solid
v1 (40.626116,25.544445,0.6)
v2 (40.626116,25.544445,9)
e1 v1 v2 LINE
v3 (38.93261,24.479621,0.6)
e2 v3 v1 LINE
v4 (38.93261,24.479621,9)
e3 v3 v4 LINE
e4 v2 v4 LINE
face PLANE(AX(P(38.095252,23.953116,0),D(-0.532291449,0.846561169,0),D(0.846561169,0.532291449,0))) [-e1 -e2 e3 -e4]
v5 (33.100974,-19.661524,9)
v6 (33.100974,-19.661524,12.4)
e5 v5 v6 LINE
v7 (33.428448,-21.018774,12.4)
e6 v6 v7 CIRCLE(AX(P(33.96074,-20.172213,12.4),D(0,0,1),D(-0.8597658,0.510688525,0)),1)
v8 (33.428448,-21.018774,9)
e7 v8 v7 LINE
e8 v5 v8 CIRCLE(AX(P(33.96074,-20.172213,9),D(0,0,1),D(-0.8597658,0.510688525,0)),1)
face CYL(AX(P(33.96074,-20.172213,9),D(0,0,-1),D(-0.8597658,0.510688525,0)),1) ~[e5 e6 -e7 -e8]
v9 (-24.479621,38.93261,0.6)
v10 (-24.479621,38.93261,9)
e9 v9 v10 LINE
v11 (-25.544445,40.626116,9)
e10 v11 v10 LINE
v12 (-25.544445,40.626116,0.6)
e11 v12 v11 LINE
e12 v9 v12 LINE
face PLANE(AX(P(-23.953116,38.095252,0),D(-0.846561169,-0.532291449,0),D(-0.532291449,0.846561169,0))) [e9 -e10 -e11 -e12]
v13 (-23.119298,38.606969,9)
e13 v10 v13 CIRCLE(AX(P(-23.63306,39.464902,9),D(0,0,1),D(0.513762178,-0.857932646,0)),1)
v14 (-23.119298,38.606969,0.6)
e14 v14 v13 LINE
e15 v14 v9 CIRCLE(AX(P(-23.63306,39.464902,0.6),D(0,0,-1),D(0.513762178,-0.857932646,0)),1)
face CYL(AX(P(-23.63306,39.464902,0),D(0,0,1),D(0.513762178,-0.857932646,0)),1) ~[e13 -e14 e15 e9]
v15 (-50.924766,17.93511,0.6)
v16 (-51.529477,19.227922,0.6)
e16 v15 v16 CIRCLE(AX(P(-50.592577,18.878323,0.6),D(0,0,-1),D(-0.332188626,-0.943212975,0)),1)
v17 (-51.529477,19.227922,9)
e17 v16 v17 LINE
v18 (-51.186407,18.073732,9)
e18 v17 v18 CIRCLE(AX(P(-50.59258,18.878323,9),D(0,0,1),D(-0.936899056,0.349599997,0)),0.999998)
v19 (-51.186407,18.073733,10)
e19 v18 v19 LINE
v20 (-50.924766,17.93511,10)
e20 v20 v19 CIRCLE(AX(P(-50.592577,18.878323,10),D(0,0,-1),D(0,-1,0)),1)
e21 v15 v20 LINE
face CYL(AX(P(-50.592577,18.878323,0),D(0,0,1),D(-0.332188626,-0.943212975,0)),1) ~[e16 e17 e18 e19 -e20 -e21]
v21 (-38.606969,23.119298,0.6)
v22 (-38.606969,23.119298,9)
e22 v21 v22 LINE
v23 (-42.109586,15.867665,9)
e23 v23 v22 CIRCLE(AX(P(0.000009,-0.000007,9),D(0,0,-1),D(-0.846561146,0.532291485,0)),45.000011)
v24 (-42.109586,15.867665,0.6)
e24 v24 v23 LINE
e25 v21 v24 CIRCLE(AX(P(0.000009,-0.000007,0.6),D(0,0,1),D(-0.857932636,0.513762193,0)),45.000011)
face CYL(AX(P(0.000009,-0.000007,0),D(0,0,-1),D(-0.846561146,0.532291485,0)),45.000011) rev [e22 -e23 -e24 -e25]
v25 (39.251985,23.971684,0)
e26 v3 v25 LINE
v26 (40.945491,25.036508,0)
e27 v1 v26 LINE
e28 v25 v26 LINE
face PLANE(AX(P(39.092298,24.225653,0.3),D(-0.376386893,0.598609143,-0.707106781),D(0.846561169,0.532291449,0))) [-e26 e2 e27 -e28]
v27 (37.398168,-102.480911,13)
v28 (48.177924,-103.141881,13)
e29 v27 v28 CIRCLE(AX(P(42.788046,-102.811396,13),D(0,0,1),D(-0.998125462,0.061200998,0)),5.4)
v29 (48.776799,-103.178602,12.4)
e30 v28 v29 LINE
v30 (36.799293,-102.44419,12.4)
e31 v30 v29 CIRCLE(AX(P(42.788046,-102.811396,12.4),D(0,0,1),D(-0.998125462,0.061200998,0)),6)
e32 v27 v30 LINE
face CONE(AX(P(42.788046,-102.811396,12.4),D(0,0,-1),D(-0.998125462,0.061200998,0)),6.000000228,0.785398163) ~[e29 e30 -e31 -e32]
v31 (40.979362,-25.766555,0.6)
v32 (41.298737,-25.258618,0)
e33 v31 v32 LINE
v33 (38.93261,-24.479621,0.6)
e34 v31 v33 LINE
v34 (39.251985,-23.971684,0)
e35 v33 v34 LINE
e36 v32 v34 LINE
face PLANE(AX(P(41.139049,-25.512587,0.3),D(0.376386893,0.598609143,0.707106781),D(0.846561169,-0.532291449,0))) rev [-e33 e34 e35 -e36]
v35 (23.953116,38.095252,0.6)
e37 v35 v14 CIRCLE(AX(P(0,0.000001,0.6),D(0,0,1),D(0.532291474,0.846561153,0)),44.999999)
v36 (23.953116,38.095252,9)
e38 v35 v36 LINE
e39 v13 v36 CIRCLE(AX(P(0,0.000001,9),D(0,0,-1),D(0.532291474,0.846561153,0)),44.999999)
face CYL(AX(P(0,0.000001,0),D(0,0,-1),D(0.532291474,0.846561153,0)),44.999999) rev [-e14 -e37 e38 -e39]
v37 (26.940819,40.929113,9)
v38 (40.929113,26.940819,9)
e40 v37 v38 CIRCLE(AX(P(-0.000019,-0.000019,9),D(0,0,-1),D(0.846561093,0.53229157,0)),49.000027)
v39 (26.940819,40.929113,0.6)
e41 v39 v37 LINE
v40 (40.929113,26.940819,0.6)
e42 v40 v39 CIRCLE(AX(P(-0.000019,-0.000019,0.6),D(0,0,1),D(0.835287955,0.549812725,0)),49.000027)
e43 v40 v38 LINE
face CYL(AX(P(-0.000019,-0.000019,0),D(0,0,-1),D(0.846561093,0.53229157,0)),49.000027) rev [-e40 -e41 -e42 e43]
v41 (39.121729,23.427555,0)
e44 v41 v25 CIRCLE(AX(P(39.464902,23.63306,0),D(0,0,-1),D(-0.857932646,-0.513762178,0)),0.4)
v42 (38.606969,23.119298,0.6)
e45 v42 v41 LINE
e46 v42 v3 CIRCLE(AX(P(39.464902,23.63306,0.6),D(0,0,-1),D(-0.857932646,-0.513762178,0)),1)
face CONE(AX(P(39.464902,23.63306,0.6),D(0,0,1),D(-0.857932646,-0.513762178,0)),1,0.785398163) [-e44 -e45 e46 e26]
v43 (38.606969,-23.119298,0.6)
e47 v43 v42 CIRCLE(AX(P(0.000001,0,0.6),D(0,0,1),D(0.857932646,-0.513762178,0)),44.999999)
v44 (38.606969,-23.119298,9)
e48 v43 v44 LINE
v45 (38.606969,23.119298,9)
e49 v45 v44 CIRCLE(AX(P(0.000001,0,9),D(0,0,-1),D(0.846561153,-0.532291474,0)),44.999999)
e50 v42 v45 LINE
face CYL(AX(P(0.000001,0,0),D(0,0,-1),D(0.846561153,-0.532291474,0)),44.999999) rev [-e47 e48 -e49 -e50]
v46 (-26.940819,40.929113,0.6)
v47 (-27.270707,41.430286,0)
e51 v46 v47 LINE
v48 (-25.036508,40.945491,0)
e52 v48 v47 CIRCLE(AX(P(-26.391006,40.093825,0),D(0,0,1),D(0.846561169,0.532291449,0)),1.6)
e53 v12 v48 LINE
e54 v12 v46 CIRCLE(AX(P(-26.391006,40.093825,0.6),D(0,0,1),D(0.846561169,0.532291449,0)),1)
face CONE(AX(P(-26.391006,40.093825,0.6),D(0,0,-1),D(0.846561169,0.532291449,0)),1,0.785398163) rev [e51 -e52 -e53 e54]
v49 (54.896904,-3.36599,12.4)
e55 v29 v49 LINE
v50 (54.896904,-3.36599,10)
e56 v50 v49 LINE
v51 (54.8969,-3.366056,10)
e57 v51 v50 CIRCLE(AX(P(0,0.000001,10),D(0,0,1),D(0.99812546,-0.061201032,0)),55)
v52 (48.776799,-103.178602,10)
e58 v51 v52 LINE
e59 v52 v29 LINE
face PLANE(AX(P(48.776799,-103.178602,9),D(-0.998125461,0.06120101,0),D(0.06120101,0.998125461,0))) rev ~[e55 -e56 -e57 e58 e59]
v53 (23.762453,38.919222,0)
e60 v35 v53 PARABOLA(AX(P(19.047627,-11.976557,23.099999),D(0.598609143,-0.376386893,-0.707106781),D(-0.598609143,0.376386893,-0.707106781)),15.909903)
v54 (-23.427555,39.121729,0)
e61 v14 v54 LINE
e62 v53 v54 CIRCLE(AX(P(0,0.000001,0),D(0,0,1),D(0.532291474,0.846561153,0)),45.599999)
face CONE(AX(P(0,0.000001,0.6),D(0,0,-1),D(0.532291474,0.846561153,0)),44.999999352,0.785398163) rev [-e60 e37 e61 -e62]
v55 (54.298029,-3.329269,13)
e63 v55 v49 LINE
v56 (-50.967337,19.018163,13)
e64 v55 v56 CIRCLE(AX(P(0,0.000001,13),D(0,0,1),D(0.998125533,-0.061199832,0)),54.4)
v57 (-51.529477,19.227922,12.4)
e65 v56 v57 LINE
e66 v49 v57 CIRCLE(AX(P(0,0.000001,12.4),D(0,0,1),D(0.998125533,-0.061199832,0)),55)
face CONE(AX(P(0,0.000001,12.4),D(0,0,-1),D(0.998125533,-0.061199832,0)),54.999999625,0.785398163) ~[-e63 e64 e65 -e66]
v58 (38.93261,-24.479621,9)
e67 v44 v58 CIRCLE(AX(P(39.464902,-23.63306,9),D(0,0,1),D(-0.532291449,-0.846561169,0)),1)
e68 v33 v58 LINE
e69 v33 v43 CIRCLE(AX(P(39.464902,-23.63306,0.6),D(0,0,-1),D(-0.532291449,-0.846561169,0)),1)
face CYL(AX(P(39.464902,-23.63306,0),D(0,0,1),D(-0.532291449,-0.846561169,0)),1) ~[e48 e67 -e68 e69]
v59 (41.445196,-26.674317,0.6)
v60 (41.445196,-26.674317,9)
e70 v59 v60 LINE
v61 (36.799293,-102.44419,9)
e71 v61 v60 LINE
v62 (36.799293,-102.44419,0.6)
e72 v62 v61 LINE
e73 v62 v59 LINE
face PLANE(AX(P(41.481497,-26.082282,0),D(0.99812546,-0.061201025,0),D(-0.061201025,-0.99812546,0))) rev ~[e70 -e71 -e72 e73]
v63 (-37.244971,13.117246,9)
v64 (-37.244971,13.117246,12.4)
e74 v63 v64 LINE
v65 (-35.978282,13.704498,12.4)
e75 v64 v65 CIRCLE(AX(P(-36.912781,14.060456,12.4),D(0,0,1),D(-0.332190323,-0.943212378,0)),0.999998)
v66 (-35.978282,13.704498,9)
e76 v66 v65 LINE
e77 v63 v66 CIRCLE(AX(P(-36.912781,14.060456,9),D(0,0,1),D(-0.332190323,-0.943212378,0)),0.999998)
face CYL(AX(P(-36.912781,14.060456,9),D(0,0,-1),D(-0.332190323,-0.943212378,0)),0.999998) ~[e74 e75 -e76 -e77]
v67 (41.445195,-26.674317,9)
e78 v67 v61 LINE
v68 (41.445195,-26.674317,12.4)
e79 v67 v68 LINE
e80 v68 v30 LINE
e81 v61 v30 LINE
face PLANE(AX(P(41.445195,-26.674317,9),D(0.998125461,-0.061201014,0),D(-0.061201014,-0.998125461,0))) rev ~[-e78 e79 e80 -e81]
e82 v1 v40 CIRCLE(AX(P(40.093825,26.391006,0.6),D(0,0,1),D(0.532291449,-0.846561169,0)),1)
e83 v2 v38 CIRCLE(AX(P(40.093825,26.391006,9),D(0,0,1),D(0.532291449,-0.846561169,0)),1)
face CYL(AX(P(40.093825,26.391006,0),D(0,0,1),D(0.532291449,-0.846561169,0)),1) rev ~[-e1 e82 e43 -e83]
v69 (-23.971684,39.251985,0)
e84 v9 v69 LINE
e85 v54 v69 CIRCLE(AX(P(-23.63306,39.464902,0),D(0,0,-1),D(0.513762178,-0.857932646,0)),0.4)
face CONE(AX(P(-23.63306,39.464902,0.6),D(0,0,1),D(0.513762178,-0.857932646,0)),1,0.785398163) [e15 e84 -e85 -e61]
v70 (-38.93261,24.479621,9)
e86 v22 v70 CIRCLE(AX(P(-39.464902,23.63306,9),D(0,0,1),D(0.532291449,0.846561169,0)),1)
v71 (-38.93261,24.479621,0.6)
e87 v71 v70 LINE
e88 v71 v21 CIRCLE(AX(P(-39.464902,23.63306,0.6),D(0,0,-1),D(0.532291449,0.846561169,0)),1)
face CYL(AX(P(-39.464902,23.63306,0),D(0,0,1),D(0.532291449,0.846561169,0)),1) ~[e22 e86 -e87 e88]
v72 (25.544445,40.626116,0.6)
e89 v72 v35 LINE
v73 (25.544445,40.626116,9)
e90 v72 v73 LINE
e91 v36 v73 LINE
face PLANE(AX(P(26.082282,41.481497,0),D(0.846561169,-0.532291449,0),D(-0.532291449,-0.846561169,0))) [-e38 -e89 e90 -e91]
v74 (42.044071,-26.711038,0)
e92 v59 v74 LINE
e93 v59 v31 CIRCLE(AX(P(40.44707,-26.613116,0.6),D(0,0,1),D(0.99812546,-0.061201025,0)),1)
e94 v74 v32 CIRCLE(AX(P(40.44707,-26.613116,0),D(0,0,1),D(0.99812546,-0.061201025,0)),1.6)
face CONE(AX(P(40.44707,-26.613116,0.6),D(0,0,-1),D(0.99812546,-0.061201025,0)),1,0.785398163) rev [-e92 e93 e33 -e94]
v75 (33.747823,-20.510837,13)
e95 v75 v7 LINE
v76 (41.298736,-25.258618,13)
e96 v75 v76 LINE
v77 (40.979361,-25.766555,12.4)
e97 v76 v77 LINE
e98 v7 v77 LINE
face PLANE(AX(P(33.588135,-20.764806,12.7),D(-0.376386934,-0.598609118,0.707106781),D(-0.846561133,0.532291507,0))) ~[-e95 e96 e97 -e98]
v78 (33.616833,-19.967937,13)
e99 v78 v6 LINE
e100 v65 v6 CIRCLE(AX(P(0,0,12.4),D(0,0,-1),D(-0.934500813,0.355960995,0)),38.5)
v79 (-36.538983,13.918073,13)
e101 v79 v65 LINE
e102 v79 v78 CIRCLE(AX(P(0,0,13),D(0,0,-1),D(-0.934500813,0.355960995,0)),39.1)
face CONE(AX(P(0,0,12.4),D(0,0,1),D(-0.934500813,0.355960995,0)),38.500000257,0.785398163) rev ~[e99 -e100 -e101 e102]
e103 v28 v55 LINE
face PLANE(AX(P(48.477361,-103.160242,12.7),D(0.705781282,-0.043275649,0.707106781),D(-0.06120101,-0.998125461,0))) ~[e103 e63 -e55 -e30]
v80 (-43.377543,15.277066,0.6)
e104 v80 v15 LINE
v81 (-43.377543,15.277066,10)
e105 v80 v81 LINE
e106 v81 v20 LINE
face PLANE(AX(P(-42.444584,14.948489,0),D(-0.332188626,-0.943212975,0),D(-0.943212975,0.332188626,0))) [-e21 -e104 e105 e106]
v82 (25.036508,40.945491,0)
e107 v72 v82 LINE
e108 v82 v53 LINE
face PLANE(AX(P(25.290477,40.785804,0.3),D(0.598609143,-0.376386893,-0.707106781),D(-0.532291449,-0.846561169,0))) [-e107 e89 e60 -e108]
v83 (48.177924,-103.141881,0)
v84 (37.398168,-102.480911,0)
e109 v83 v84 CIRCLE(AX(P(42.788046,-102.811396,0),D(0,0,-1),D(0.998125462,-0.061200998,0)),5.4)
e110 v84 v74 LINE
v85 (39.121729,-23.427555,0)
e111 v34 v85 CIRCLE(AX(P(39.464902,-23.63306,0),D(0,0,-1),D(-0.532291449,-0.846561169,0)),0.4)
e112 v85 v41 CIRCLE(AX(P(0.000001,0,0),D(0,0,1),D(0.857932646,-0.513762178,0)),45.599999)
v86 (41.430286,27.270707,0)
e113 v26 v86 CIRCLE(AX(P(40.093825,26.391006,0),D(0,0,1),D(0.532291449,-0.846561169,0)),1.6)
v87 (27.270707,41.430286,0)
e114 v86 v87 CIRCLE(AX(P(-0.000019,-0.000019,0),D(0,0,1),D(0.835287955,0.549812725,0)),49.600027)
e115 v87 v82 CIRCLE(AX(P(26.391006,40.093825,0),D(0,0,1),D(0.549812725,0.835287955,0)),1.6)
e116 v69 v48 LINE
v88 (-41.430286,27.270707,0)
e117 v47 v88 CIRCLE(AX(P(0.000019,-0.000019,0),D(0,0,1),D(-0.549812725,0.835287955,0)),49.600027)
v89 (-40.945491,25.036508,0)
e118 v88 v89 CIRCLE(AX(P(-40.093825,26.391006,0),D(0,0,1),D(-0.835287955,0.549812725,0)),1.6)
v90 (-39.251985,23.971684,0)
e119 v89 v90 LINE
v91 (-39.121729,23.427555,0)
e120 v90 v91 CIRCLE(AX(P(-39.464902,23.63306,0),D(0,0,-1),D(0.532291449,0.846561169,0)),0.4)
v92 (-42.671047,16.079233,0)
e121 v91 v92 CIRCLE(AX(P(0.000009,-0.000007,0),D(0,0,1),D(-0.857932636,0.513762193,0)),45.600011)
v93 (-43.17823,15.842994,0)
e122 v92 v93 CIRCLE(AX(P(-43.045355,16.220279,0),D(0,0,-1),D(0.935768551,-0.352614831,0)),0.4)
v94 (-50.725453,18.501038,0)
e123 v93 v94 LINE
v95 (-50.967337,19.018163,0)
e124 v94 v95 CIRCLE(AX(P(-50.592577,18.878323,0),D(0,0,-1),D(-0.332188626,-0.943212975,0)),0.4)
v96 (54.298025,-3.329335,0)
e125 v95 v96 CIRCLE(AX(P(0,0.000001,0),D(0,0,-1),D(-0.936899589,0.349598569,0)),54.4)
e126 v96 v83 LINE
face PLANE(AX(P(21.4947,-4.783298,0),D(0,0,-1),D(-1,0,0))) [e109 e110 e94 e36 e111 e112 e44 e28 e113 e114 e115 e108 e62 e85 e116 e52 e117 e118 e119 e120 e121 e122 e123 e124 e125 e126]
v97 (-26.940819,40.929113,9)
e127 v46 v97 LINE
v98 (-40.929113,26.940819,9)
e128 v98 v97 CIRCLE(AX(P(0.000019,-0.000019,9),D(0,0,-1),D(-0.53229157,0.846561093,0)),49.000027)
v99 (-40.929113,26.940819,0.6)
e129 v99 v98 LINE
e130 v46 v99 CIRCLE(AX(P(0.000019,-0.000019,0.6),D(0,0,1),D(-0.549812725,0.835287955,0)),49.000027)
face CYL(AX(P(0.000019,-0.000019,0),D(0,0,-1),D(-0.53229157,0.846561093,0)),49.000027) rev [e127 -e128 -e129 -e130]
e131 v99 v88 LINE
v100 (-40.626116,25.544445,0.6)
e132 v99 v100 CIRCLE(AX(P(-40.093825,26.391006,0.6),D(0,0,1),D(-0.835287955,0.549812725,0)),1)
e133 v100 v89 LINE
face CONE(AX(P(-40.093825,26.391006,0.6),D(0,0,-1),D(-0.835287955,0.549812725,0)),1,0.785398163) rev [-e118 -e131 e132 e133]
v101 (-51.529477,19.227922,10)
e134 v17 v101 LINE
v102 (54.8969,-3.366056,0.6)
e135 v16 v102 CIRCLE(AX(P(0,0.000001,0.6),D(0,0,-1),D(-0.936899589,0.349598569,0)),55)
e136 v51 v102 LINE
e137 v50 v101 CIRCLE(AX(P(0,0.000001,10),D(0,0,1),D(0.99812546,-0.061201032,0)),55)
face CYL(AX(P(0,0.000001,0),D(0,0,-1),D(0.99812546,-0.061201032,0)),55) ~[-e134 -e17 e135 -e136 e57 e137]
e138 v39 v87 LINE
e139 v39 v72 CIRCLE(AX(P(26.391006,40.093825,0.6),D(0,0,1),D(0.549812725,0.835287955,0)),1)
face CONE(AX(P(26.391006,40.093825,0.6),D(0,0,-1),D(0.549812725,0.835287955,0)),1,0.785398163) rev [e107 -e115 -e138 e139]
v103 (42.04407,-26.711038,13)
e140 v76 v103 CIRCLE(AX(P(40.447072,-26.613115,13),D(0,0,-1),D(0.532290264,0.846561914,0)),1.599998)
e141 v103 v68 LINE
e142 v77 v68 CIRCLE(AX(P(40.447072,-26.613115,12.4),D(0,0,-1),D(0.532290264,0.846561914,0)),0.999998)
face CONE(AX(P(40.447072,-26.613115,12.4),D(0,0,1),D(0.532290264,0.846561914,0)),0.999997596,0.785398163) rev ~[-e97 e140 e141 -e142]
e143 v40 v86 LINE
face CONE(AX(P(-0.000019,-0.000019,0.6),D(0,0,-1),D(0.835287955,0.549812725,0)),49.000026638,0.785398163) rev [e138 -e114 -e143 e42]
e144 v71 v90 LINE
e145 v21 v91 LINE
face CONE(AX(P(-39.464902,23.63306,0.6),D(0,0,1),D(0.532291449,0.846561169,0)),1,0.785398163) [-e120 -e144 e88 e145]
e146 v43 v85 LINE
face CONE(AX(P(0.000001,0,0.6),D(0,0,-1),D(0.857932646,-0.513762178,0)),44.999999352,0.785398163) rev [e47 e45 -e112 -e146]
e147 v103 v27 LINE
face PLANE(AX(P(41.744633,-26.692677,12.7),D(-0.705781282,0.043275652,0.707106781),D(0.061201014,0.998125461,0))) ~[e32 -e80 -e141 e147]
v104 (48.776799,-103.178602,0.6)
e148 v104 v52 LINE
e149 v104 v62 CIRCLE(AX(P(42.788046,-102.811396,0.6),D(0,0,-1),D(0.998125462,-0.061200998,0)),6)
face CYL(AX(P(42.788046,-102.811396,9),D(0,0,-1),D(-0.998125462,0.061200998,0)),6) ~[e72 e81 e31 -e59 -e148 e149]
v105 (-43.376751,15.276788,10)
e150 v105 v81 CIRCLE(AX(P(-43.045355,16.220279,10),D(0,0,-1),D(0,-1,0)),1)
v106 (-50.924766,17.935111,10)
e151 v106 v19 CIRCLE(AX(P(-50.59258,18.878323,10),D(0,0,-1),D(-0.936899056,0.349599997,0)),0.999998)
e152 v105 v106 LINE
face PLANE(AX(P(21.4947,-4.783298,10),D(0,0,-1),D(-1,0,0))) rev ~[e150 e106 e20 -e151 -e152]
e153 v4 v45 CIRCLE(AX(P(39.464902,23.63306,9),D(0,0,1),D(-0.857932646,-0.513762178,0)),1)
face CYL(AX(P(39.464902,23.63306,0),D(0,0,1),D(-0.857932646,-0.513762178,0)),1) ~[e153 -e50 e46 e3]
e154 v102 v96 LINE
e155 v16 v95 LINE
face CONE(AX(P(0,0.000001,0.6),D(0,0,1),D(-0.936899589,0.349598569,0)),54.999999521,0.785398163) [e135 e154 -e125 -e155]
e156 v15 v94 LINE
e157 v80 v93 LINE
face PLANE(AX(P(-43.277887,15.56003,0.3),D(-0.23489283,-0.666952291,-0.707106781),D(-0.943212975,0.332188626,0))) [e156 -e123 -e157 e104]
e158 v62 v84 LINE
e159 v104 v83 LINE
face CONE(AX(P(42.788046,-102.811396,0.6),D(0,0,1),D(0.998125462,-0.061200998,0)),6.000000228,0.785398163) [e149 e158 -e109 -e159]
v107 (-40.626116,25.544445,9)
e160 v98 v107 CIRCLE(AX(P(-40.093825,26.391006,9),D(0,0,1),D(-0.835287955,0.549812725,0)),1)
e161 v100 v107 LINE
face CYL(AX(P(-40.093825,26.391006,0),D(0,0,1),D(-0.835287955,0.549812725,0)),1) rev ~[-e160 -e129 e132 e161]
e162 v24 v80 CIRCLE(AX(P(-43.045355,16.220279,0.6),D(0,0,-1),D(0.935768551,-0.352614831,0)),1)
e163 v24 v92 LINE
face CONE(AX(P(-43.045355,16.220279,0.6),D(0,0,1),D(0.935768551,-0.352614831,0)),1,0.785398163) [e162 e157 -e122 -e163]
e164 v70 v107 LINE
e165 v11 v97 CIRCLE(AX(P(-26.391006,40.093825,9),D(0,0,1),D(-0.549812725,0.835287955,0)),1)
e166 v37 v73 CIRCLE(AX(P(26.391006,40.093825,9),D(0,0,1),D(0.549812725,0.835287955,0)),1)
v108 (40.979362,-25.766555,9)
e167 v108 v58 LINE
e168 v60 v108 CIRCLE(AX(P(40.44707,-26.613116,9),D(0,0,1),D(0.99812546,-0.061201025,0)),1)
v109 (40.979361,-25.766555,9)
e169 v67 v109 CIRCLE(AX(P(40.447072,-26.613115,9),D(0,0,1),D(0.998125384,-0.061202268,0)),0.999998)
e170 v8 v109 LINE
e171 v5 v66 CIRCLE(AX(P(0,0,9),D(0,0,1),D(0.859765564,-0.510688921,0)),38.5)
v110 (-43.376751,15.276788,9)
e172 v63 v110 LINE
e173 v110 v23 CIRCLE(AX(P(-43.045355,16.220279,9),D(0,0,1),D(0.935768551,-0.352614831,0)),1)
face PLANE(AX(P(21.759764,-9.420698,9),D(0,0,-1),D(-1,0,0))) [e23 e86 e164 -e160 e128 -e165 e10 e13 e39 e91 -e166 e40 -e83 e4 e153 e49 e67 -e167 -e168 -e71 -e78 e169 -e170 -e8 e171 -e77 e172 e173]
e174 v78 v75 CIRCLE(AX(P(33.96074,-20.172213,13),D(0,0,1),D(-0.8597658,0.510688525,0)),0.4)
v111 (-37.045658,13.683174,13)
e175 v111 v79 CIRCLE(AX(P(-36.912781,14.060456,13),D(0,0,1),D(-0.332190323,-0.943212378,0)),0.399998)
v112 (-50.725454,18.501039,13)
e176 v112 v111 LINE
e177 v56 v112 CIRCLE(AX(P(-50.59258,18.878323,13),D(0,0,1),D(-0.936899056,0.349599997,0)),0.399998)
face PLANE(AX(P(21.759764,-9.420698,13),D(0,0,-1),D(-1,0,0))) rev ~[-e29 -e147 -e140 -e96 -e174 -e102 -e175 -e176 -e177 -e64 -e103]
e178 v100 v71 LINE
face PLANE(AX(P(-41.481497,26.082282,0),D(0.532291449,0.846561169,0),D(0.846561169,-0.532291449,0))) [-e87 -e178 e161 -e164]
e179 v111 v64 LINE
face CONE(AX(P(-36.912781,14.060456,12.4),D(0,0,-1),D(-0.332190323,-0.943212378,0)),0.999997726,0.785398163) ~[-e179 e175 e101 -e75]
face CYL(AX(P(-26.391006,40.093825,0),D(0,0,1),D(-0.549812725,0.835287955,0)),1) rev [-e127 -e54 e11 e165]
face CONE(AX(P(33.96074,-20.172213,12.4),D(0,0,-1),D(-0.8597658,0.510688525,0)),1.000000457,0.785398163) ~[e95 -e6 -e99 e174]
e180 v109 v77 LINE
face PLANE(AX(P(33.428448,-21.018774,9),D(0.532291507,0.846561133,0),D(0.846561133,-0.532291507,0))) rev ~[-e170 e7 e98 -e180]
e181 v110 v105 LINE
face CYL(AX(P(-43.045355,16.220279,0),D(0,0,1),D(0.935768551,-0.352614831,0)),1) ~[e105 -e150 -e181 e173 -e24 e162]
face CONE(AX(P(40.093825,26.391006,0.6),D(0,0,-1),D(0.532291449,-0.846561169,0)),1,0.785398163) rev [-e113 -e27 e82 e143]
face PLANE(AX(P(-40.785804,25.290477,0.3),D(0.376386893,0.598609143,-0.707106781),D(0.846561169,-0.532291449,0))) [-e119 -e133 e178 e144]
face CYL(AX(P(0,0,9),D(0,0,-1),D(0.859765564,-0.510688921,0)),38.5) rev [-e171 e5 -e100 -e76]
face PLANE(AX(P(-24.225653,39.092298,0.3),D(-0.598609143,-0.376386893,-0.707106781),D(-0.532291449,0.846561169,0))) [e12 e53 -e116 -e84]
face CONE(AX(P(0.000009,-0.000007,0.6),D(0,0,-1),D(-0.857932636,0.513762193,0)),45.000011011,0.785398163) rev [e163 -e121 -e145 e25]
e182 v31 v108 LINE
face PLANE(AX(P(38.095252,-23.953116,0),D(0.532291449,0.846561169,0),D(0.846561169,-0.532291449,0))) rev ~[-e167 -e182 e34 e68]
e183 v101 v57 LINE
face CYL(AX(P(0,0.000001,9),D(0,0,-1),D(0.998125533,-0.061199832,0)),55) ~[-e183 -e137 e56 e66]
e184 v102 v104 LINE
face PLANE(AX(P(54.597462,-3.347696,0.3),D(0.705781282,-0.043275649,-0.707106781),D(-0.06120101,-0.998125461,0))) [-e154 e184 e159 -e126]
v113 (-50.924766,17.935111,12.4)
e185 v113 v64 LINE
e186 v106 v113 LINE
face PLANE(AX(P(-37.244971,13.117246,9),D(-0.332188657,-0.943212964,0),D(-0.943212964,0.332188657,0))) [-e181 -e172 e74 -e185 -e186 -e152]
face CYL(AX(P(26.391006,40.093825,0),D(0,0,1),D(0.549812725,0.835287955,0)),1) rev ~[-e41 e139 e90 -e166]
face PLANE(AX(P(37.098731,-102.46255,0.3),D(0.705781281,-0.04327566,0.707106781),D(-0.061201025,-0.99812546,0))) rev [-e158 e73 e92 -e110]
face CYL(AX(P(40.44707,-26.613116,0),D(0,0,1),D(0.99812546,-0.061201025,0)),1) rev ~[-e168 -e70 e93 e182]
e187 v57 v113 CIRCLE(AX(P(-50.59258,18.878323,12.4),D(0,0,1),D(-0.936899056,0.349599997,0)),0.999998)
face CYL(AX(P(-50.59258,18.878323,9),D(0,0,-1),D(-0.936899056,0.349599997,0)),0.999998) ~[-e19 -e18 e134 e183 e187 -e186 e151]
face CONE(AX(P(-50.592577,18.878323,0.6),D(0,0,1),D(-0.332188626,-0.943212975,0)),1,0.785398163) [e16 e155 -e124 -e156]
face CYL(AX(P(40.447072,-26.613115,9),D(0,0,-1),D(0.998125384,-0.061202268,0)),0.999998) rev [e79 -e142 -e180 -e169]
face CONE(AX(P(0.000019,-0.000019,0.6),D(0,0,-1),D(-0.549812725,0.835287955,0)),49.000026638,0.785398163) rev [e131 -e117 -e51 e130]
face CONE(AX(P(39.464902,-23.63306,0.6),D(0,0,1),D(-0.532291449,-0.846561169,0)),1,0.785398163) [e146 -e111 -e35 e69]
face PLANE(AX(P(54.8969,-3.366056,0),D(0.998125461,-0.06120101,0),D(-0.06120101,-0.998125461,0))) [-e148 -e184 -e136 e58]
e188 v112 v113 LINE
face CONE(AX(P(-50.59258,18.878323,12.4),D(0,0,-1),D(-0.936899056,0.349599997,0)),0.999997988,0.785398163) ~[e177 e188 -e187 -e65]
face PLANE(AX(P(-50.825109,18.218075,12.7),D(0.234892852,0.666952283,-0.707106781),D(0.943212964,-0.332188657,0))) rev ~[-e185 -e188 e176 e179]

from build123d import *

# Parameters (mm, degrees)
PAD_DEPTH    = 10
FILLET_R     = 1
PAD001_DEPTH = 4
CHAMFER_SIZE = 0.6


with BuildPart() as part:
    # Sketch → Pad (new body)
    with BuildSketch(Plane.XY):
        with BuildLine():
            ThreePointArc((-26.082282, 41.481497), (-34.648232, 34.648232), (-41.481497, 26.082282))
            Line((-41.481497, 26.082282), (-38.095252, 23.953116))
            ThreePointArc((-38.095252, 23.953116), (-40.520823, 19.571993), (-42.444584, 14.948489))
            Line((-42.444584, 14.948489), (-51.876713, 18.270375))
            ThreePointArc((54.8969, -3.366056), (10.923103, 53.904414), (-51.876713, 18.270375))
            Line((54.8969, -3.366056), (48.776799, -103.178602))
            ThreePointArc((36.799293, -102.44419), (42.42084, -108.800149), (48.776799, -103.178602))
            Line((41.481497, -26.082282), (36.799293, -102.44419))
            Line((38.095252, -23.953116), (41.481497, -26.082282))
            ThreePointArc((38.095252, -23.953116), (45, 0), (38.095252, 23.953116))
            Line((38.095252, 23.953116), (41.481497, 26.082282))
            ThreePointArc((41.481497, 26.082282), (34.648232, 34.648232), (26.082282, 41.481497))
            Line((26.082282, 41.481497), (23.953116, 38.095252))
            ThreePointArc((23.953116, 38.095252), (0, 45), (-23.953116, 38.095252))
            Line((-23.953116, 38.095252), (-26.082282, 41.481497))
        make_face()
    extrude(amount=PAD_DEPTH)

    # Fillet
    fillet_edges = [part.edges().sort_by_distance(p)[0] for p in [
        (-42.444584, 14.948489, 5),
        (-51.876713, 18.270375, 5),
        (-38.095252, 23.953116, 5),
        (-41.481497, 26.082282, 5),
        (-26.082282, 41.481497, 5),
        (-23.953116, 38.095252, 5),
        (26.082282, 41.481497, 5),
        (41.481497, 26.082282, 5),
        (38.095252, 23.953116, 5),
        (38.095252, -23.953116, 5),
        (41.481497, -26.082282, 5),
    ]]
    fillet(fillet_edges, radius=FILLET_R)

    # Sketch003 (on Face5 of Fillet) → Pad001 (join)
    with BuildSketch(Plane.XY.offset(9)):
        with BuildLine():
            ThreePointArc((33.100974, -19.661524), (16.744927, 34.667815), (-35.978282, 13.704498))
            ThreePointArc((-37.244971, 13.117246), (-36.492174, 13.153216), (-35.978282, 13.704498))
            Line((-37.244971, 13.117246), (-50.924766, 17.935111))
            ThreePointArc((-51.529477, 19.227922), (-51.498385, 18.454633), (-50.924766, 17.935111))
            ThreePointArc((54.896904, -3.36599), (11.421738, 53.800966), (-51.529477, 19.227922))
            Line((48.776799, -103.178602), (54.896904, -3.36599))
            ThreePointArc((36.799293, -102.44419), (42.42084, -108.800149), (48.776799, -103.178602))
            Line((41.445195, -26.674317), (36.799293, -102.44419))
            ThreePointArc((41.445195, -26.674317), (41.336762, -26.156555), (40.979361, -25.766555))
            Line((33.428448, -21.018774), (40.979361, -25.766555))
            ThreePointArc((33.100974, -19.661524), (32.988635, -20.40676), (33.428448, -21.018774))
        make_face()
    extrude(amount=PAD001_DEPTH)

    # Chamfer
    chamfer_edges = [part.edges().sort_by_distance(p)[0] for p in [
        (32.988635, -20.40676, 13),
        (16.744927, 34.667815, 13),
        (-36.492174, 13.153216, 13),
        (-44.084869, 15.526178, 13),
        (-51.498385, 18.454633, 13),
        (11.421738, 53.800966, 13),
        (51.836852, -53.272296, 13),
        (42.42084, -108.800149, 13),
        (39.122244, -64.559254, 13),
        (41.336762, -26.156555, 13),
        (37.203905, -23.392665, 13),
        (45, 0, 0),
        (38.492379, -23.865868, 0),
        (38.492379, 23.865868, 0),
        (39.955986, -25.123088, 0),
        (39.779363, 25.012033, 0),
        (41.336762, -26.156555, 0),
        (41.071083, 26.178953, 0),
        (39.122244, -64.559254, 0),
        (34.648232, 34.648232, 0),
        (42.42084, -108.800149, 0),
        (26.178953, 41.071083, 0),
        (51.83685, -53.272329, 0),
        (24.748781, 39.360684, 0),
        (11.421771, 53.800959, 0),
        (0.489159, 44.997341, 0),
        (-51.498385, 18.454633, 0),
        (-23.865868, 38.492379, 0),
        (-47.151155, 16.606089, 0),
        (-25.012033, 39.779363, 0),
        (-42.623124, 15.313791, 0),
        (-26.178953, 41.071083, 0),
        (-40.520823, 19.571993, 0),
        (-34.648232, 34.648232, 0),
        (-38.492379, 23.865868, 0),
        (-41.071083, 26.178953, 0),
        (-39.779363, 25.012033, 0),
    ]]
    chamfer(chamfer_edges, length=CHAMFER_SIZE)


solid = part.part
